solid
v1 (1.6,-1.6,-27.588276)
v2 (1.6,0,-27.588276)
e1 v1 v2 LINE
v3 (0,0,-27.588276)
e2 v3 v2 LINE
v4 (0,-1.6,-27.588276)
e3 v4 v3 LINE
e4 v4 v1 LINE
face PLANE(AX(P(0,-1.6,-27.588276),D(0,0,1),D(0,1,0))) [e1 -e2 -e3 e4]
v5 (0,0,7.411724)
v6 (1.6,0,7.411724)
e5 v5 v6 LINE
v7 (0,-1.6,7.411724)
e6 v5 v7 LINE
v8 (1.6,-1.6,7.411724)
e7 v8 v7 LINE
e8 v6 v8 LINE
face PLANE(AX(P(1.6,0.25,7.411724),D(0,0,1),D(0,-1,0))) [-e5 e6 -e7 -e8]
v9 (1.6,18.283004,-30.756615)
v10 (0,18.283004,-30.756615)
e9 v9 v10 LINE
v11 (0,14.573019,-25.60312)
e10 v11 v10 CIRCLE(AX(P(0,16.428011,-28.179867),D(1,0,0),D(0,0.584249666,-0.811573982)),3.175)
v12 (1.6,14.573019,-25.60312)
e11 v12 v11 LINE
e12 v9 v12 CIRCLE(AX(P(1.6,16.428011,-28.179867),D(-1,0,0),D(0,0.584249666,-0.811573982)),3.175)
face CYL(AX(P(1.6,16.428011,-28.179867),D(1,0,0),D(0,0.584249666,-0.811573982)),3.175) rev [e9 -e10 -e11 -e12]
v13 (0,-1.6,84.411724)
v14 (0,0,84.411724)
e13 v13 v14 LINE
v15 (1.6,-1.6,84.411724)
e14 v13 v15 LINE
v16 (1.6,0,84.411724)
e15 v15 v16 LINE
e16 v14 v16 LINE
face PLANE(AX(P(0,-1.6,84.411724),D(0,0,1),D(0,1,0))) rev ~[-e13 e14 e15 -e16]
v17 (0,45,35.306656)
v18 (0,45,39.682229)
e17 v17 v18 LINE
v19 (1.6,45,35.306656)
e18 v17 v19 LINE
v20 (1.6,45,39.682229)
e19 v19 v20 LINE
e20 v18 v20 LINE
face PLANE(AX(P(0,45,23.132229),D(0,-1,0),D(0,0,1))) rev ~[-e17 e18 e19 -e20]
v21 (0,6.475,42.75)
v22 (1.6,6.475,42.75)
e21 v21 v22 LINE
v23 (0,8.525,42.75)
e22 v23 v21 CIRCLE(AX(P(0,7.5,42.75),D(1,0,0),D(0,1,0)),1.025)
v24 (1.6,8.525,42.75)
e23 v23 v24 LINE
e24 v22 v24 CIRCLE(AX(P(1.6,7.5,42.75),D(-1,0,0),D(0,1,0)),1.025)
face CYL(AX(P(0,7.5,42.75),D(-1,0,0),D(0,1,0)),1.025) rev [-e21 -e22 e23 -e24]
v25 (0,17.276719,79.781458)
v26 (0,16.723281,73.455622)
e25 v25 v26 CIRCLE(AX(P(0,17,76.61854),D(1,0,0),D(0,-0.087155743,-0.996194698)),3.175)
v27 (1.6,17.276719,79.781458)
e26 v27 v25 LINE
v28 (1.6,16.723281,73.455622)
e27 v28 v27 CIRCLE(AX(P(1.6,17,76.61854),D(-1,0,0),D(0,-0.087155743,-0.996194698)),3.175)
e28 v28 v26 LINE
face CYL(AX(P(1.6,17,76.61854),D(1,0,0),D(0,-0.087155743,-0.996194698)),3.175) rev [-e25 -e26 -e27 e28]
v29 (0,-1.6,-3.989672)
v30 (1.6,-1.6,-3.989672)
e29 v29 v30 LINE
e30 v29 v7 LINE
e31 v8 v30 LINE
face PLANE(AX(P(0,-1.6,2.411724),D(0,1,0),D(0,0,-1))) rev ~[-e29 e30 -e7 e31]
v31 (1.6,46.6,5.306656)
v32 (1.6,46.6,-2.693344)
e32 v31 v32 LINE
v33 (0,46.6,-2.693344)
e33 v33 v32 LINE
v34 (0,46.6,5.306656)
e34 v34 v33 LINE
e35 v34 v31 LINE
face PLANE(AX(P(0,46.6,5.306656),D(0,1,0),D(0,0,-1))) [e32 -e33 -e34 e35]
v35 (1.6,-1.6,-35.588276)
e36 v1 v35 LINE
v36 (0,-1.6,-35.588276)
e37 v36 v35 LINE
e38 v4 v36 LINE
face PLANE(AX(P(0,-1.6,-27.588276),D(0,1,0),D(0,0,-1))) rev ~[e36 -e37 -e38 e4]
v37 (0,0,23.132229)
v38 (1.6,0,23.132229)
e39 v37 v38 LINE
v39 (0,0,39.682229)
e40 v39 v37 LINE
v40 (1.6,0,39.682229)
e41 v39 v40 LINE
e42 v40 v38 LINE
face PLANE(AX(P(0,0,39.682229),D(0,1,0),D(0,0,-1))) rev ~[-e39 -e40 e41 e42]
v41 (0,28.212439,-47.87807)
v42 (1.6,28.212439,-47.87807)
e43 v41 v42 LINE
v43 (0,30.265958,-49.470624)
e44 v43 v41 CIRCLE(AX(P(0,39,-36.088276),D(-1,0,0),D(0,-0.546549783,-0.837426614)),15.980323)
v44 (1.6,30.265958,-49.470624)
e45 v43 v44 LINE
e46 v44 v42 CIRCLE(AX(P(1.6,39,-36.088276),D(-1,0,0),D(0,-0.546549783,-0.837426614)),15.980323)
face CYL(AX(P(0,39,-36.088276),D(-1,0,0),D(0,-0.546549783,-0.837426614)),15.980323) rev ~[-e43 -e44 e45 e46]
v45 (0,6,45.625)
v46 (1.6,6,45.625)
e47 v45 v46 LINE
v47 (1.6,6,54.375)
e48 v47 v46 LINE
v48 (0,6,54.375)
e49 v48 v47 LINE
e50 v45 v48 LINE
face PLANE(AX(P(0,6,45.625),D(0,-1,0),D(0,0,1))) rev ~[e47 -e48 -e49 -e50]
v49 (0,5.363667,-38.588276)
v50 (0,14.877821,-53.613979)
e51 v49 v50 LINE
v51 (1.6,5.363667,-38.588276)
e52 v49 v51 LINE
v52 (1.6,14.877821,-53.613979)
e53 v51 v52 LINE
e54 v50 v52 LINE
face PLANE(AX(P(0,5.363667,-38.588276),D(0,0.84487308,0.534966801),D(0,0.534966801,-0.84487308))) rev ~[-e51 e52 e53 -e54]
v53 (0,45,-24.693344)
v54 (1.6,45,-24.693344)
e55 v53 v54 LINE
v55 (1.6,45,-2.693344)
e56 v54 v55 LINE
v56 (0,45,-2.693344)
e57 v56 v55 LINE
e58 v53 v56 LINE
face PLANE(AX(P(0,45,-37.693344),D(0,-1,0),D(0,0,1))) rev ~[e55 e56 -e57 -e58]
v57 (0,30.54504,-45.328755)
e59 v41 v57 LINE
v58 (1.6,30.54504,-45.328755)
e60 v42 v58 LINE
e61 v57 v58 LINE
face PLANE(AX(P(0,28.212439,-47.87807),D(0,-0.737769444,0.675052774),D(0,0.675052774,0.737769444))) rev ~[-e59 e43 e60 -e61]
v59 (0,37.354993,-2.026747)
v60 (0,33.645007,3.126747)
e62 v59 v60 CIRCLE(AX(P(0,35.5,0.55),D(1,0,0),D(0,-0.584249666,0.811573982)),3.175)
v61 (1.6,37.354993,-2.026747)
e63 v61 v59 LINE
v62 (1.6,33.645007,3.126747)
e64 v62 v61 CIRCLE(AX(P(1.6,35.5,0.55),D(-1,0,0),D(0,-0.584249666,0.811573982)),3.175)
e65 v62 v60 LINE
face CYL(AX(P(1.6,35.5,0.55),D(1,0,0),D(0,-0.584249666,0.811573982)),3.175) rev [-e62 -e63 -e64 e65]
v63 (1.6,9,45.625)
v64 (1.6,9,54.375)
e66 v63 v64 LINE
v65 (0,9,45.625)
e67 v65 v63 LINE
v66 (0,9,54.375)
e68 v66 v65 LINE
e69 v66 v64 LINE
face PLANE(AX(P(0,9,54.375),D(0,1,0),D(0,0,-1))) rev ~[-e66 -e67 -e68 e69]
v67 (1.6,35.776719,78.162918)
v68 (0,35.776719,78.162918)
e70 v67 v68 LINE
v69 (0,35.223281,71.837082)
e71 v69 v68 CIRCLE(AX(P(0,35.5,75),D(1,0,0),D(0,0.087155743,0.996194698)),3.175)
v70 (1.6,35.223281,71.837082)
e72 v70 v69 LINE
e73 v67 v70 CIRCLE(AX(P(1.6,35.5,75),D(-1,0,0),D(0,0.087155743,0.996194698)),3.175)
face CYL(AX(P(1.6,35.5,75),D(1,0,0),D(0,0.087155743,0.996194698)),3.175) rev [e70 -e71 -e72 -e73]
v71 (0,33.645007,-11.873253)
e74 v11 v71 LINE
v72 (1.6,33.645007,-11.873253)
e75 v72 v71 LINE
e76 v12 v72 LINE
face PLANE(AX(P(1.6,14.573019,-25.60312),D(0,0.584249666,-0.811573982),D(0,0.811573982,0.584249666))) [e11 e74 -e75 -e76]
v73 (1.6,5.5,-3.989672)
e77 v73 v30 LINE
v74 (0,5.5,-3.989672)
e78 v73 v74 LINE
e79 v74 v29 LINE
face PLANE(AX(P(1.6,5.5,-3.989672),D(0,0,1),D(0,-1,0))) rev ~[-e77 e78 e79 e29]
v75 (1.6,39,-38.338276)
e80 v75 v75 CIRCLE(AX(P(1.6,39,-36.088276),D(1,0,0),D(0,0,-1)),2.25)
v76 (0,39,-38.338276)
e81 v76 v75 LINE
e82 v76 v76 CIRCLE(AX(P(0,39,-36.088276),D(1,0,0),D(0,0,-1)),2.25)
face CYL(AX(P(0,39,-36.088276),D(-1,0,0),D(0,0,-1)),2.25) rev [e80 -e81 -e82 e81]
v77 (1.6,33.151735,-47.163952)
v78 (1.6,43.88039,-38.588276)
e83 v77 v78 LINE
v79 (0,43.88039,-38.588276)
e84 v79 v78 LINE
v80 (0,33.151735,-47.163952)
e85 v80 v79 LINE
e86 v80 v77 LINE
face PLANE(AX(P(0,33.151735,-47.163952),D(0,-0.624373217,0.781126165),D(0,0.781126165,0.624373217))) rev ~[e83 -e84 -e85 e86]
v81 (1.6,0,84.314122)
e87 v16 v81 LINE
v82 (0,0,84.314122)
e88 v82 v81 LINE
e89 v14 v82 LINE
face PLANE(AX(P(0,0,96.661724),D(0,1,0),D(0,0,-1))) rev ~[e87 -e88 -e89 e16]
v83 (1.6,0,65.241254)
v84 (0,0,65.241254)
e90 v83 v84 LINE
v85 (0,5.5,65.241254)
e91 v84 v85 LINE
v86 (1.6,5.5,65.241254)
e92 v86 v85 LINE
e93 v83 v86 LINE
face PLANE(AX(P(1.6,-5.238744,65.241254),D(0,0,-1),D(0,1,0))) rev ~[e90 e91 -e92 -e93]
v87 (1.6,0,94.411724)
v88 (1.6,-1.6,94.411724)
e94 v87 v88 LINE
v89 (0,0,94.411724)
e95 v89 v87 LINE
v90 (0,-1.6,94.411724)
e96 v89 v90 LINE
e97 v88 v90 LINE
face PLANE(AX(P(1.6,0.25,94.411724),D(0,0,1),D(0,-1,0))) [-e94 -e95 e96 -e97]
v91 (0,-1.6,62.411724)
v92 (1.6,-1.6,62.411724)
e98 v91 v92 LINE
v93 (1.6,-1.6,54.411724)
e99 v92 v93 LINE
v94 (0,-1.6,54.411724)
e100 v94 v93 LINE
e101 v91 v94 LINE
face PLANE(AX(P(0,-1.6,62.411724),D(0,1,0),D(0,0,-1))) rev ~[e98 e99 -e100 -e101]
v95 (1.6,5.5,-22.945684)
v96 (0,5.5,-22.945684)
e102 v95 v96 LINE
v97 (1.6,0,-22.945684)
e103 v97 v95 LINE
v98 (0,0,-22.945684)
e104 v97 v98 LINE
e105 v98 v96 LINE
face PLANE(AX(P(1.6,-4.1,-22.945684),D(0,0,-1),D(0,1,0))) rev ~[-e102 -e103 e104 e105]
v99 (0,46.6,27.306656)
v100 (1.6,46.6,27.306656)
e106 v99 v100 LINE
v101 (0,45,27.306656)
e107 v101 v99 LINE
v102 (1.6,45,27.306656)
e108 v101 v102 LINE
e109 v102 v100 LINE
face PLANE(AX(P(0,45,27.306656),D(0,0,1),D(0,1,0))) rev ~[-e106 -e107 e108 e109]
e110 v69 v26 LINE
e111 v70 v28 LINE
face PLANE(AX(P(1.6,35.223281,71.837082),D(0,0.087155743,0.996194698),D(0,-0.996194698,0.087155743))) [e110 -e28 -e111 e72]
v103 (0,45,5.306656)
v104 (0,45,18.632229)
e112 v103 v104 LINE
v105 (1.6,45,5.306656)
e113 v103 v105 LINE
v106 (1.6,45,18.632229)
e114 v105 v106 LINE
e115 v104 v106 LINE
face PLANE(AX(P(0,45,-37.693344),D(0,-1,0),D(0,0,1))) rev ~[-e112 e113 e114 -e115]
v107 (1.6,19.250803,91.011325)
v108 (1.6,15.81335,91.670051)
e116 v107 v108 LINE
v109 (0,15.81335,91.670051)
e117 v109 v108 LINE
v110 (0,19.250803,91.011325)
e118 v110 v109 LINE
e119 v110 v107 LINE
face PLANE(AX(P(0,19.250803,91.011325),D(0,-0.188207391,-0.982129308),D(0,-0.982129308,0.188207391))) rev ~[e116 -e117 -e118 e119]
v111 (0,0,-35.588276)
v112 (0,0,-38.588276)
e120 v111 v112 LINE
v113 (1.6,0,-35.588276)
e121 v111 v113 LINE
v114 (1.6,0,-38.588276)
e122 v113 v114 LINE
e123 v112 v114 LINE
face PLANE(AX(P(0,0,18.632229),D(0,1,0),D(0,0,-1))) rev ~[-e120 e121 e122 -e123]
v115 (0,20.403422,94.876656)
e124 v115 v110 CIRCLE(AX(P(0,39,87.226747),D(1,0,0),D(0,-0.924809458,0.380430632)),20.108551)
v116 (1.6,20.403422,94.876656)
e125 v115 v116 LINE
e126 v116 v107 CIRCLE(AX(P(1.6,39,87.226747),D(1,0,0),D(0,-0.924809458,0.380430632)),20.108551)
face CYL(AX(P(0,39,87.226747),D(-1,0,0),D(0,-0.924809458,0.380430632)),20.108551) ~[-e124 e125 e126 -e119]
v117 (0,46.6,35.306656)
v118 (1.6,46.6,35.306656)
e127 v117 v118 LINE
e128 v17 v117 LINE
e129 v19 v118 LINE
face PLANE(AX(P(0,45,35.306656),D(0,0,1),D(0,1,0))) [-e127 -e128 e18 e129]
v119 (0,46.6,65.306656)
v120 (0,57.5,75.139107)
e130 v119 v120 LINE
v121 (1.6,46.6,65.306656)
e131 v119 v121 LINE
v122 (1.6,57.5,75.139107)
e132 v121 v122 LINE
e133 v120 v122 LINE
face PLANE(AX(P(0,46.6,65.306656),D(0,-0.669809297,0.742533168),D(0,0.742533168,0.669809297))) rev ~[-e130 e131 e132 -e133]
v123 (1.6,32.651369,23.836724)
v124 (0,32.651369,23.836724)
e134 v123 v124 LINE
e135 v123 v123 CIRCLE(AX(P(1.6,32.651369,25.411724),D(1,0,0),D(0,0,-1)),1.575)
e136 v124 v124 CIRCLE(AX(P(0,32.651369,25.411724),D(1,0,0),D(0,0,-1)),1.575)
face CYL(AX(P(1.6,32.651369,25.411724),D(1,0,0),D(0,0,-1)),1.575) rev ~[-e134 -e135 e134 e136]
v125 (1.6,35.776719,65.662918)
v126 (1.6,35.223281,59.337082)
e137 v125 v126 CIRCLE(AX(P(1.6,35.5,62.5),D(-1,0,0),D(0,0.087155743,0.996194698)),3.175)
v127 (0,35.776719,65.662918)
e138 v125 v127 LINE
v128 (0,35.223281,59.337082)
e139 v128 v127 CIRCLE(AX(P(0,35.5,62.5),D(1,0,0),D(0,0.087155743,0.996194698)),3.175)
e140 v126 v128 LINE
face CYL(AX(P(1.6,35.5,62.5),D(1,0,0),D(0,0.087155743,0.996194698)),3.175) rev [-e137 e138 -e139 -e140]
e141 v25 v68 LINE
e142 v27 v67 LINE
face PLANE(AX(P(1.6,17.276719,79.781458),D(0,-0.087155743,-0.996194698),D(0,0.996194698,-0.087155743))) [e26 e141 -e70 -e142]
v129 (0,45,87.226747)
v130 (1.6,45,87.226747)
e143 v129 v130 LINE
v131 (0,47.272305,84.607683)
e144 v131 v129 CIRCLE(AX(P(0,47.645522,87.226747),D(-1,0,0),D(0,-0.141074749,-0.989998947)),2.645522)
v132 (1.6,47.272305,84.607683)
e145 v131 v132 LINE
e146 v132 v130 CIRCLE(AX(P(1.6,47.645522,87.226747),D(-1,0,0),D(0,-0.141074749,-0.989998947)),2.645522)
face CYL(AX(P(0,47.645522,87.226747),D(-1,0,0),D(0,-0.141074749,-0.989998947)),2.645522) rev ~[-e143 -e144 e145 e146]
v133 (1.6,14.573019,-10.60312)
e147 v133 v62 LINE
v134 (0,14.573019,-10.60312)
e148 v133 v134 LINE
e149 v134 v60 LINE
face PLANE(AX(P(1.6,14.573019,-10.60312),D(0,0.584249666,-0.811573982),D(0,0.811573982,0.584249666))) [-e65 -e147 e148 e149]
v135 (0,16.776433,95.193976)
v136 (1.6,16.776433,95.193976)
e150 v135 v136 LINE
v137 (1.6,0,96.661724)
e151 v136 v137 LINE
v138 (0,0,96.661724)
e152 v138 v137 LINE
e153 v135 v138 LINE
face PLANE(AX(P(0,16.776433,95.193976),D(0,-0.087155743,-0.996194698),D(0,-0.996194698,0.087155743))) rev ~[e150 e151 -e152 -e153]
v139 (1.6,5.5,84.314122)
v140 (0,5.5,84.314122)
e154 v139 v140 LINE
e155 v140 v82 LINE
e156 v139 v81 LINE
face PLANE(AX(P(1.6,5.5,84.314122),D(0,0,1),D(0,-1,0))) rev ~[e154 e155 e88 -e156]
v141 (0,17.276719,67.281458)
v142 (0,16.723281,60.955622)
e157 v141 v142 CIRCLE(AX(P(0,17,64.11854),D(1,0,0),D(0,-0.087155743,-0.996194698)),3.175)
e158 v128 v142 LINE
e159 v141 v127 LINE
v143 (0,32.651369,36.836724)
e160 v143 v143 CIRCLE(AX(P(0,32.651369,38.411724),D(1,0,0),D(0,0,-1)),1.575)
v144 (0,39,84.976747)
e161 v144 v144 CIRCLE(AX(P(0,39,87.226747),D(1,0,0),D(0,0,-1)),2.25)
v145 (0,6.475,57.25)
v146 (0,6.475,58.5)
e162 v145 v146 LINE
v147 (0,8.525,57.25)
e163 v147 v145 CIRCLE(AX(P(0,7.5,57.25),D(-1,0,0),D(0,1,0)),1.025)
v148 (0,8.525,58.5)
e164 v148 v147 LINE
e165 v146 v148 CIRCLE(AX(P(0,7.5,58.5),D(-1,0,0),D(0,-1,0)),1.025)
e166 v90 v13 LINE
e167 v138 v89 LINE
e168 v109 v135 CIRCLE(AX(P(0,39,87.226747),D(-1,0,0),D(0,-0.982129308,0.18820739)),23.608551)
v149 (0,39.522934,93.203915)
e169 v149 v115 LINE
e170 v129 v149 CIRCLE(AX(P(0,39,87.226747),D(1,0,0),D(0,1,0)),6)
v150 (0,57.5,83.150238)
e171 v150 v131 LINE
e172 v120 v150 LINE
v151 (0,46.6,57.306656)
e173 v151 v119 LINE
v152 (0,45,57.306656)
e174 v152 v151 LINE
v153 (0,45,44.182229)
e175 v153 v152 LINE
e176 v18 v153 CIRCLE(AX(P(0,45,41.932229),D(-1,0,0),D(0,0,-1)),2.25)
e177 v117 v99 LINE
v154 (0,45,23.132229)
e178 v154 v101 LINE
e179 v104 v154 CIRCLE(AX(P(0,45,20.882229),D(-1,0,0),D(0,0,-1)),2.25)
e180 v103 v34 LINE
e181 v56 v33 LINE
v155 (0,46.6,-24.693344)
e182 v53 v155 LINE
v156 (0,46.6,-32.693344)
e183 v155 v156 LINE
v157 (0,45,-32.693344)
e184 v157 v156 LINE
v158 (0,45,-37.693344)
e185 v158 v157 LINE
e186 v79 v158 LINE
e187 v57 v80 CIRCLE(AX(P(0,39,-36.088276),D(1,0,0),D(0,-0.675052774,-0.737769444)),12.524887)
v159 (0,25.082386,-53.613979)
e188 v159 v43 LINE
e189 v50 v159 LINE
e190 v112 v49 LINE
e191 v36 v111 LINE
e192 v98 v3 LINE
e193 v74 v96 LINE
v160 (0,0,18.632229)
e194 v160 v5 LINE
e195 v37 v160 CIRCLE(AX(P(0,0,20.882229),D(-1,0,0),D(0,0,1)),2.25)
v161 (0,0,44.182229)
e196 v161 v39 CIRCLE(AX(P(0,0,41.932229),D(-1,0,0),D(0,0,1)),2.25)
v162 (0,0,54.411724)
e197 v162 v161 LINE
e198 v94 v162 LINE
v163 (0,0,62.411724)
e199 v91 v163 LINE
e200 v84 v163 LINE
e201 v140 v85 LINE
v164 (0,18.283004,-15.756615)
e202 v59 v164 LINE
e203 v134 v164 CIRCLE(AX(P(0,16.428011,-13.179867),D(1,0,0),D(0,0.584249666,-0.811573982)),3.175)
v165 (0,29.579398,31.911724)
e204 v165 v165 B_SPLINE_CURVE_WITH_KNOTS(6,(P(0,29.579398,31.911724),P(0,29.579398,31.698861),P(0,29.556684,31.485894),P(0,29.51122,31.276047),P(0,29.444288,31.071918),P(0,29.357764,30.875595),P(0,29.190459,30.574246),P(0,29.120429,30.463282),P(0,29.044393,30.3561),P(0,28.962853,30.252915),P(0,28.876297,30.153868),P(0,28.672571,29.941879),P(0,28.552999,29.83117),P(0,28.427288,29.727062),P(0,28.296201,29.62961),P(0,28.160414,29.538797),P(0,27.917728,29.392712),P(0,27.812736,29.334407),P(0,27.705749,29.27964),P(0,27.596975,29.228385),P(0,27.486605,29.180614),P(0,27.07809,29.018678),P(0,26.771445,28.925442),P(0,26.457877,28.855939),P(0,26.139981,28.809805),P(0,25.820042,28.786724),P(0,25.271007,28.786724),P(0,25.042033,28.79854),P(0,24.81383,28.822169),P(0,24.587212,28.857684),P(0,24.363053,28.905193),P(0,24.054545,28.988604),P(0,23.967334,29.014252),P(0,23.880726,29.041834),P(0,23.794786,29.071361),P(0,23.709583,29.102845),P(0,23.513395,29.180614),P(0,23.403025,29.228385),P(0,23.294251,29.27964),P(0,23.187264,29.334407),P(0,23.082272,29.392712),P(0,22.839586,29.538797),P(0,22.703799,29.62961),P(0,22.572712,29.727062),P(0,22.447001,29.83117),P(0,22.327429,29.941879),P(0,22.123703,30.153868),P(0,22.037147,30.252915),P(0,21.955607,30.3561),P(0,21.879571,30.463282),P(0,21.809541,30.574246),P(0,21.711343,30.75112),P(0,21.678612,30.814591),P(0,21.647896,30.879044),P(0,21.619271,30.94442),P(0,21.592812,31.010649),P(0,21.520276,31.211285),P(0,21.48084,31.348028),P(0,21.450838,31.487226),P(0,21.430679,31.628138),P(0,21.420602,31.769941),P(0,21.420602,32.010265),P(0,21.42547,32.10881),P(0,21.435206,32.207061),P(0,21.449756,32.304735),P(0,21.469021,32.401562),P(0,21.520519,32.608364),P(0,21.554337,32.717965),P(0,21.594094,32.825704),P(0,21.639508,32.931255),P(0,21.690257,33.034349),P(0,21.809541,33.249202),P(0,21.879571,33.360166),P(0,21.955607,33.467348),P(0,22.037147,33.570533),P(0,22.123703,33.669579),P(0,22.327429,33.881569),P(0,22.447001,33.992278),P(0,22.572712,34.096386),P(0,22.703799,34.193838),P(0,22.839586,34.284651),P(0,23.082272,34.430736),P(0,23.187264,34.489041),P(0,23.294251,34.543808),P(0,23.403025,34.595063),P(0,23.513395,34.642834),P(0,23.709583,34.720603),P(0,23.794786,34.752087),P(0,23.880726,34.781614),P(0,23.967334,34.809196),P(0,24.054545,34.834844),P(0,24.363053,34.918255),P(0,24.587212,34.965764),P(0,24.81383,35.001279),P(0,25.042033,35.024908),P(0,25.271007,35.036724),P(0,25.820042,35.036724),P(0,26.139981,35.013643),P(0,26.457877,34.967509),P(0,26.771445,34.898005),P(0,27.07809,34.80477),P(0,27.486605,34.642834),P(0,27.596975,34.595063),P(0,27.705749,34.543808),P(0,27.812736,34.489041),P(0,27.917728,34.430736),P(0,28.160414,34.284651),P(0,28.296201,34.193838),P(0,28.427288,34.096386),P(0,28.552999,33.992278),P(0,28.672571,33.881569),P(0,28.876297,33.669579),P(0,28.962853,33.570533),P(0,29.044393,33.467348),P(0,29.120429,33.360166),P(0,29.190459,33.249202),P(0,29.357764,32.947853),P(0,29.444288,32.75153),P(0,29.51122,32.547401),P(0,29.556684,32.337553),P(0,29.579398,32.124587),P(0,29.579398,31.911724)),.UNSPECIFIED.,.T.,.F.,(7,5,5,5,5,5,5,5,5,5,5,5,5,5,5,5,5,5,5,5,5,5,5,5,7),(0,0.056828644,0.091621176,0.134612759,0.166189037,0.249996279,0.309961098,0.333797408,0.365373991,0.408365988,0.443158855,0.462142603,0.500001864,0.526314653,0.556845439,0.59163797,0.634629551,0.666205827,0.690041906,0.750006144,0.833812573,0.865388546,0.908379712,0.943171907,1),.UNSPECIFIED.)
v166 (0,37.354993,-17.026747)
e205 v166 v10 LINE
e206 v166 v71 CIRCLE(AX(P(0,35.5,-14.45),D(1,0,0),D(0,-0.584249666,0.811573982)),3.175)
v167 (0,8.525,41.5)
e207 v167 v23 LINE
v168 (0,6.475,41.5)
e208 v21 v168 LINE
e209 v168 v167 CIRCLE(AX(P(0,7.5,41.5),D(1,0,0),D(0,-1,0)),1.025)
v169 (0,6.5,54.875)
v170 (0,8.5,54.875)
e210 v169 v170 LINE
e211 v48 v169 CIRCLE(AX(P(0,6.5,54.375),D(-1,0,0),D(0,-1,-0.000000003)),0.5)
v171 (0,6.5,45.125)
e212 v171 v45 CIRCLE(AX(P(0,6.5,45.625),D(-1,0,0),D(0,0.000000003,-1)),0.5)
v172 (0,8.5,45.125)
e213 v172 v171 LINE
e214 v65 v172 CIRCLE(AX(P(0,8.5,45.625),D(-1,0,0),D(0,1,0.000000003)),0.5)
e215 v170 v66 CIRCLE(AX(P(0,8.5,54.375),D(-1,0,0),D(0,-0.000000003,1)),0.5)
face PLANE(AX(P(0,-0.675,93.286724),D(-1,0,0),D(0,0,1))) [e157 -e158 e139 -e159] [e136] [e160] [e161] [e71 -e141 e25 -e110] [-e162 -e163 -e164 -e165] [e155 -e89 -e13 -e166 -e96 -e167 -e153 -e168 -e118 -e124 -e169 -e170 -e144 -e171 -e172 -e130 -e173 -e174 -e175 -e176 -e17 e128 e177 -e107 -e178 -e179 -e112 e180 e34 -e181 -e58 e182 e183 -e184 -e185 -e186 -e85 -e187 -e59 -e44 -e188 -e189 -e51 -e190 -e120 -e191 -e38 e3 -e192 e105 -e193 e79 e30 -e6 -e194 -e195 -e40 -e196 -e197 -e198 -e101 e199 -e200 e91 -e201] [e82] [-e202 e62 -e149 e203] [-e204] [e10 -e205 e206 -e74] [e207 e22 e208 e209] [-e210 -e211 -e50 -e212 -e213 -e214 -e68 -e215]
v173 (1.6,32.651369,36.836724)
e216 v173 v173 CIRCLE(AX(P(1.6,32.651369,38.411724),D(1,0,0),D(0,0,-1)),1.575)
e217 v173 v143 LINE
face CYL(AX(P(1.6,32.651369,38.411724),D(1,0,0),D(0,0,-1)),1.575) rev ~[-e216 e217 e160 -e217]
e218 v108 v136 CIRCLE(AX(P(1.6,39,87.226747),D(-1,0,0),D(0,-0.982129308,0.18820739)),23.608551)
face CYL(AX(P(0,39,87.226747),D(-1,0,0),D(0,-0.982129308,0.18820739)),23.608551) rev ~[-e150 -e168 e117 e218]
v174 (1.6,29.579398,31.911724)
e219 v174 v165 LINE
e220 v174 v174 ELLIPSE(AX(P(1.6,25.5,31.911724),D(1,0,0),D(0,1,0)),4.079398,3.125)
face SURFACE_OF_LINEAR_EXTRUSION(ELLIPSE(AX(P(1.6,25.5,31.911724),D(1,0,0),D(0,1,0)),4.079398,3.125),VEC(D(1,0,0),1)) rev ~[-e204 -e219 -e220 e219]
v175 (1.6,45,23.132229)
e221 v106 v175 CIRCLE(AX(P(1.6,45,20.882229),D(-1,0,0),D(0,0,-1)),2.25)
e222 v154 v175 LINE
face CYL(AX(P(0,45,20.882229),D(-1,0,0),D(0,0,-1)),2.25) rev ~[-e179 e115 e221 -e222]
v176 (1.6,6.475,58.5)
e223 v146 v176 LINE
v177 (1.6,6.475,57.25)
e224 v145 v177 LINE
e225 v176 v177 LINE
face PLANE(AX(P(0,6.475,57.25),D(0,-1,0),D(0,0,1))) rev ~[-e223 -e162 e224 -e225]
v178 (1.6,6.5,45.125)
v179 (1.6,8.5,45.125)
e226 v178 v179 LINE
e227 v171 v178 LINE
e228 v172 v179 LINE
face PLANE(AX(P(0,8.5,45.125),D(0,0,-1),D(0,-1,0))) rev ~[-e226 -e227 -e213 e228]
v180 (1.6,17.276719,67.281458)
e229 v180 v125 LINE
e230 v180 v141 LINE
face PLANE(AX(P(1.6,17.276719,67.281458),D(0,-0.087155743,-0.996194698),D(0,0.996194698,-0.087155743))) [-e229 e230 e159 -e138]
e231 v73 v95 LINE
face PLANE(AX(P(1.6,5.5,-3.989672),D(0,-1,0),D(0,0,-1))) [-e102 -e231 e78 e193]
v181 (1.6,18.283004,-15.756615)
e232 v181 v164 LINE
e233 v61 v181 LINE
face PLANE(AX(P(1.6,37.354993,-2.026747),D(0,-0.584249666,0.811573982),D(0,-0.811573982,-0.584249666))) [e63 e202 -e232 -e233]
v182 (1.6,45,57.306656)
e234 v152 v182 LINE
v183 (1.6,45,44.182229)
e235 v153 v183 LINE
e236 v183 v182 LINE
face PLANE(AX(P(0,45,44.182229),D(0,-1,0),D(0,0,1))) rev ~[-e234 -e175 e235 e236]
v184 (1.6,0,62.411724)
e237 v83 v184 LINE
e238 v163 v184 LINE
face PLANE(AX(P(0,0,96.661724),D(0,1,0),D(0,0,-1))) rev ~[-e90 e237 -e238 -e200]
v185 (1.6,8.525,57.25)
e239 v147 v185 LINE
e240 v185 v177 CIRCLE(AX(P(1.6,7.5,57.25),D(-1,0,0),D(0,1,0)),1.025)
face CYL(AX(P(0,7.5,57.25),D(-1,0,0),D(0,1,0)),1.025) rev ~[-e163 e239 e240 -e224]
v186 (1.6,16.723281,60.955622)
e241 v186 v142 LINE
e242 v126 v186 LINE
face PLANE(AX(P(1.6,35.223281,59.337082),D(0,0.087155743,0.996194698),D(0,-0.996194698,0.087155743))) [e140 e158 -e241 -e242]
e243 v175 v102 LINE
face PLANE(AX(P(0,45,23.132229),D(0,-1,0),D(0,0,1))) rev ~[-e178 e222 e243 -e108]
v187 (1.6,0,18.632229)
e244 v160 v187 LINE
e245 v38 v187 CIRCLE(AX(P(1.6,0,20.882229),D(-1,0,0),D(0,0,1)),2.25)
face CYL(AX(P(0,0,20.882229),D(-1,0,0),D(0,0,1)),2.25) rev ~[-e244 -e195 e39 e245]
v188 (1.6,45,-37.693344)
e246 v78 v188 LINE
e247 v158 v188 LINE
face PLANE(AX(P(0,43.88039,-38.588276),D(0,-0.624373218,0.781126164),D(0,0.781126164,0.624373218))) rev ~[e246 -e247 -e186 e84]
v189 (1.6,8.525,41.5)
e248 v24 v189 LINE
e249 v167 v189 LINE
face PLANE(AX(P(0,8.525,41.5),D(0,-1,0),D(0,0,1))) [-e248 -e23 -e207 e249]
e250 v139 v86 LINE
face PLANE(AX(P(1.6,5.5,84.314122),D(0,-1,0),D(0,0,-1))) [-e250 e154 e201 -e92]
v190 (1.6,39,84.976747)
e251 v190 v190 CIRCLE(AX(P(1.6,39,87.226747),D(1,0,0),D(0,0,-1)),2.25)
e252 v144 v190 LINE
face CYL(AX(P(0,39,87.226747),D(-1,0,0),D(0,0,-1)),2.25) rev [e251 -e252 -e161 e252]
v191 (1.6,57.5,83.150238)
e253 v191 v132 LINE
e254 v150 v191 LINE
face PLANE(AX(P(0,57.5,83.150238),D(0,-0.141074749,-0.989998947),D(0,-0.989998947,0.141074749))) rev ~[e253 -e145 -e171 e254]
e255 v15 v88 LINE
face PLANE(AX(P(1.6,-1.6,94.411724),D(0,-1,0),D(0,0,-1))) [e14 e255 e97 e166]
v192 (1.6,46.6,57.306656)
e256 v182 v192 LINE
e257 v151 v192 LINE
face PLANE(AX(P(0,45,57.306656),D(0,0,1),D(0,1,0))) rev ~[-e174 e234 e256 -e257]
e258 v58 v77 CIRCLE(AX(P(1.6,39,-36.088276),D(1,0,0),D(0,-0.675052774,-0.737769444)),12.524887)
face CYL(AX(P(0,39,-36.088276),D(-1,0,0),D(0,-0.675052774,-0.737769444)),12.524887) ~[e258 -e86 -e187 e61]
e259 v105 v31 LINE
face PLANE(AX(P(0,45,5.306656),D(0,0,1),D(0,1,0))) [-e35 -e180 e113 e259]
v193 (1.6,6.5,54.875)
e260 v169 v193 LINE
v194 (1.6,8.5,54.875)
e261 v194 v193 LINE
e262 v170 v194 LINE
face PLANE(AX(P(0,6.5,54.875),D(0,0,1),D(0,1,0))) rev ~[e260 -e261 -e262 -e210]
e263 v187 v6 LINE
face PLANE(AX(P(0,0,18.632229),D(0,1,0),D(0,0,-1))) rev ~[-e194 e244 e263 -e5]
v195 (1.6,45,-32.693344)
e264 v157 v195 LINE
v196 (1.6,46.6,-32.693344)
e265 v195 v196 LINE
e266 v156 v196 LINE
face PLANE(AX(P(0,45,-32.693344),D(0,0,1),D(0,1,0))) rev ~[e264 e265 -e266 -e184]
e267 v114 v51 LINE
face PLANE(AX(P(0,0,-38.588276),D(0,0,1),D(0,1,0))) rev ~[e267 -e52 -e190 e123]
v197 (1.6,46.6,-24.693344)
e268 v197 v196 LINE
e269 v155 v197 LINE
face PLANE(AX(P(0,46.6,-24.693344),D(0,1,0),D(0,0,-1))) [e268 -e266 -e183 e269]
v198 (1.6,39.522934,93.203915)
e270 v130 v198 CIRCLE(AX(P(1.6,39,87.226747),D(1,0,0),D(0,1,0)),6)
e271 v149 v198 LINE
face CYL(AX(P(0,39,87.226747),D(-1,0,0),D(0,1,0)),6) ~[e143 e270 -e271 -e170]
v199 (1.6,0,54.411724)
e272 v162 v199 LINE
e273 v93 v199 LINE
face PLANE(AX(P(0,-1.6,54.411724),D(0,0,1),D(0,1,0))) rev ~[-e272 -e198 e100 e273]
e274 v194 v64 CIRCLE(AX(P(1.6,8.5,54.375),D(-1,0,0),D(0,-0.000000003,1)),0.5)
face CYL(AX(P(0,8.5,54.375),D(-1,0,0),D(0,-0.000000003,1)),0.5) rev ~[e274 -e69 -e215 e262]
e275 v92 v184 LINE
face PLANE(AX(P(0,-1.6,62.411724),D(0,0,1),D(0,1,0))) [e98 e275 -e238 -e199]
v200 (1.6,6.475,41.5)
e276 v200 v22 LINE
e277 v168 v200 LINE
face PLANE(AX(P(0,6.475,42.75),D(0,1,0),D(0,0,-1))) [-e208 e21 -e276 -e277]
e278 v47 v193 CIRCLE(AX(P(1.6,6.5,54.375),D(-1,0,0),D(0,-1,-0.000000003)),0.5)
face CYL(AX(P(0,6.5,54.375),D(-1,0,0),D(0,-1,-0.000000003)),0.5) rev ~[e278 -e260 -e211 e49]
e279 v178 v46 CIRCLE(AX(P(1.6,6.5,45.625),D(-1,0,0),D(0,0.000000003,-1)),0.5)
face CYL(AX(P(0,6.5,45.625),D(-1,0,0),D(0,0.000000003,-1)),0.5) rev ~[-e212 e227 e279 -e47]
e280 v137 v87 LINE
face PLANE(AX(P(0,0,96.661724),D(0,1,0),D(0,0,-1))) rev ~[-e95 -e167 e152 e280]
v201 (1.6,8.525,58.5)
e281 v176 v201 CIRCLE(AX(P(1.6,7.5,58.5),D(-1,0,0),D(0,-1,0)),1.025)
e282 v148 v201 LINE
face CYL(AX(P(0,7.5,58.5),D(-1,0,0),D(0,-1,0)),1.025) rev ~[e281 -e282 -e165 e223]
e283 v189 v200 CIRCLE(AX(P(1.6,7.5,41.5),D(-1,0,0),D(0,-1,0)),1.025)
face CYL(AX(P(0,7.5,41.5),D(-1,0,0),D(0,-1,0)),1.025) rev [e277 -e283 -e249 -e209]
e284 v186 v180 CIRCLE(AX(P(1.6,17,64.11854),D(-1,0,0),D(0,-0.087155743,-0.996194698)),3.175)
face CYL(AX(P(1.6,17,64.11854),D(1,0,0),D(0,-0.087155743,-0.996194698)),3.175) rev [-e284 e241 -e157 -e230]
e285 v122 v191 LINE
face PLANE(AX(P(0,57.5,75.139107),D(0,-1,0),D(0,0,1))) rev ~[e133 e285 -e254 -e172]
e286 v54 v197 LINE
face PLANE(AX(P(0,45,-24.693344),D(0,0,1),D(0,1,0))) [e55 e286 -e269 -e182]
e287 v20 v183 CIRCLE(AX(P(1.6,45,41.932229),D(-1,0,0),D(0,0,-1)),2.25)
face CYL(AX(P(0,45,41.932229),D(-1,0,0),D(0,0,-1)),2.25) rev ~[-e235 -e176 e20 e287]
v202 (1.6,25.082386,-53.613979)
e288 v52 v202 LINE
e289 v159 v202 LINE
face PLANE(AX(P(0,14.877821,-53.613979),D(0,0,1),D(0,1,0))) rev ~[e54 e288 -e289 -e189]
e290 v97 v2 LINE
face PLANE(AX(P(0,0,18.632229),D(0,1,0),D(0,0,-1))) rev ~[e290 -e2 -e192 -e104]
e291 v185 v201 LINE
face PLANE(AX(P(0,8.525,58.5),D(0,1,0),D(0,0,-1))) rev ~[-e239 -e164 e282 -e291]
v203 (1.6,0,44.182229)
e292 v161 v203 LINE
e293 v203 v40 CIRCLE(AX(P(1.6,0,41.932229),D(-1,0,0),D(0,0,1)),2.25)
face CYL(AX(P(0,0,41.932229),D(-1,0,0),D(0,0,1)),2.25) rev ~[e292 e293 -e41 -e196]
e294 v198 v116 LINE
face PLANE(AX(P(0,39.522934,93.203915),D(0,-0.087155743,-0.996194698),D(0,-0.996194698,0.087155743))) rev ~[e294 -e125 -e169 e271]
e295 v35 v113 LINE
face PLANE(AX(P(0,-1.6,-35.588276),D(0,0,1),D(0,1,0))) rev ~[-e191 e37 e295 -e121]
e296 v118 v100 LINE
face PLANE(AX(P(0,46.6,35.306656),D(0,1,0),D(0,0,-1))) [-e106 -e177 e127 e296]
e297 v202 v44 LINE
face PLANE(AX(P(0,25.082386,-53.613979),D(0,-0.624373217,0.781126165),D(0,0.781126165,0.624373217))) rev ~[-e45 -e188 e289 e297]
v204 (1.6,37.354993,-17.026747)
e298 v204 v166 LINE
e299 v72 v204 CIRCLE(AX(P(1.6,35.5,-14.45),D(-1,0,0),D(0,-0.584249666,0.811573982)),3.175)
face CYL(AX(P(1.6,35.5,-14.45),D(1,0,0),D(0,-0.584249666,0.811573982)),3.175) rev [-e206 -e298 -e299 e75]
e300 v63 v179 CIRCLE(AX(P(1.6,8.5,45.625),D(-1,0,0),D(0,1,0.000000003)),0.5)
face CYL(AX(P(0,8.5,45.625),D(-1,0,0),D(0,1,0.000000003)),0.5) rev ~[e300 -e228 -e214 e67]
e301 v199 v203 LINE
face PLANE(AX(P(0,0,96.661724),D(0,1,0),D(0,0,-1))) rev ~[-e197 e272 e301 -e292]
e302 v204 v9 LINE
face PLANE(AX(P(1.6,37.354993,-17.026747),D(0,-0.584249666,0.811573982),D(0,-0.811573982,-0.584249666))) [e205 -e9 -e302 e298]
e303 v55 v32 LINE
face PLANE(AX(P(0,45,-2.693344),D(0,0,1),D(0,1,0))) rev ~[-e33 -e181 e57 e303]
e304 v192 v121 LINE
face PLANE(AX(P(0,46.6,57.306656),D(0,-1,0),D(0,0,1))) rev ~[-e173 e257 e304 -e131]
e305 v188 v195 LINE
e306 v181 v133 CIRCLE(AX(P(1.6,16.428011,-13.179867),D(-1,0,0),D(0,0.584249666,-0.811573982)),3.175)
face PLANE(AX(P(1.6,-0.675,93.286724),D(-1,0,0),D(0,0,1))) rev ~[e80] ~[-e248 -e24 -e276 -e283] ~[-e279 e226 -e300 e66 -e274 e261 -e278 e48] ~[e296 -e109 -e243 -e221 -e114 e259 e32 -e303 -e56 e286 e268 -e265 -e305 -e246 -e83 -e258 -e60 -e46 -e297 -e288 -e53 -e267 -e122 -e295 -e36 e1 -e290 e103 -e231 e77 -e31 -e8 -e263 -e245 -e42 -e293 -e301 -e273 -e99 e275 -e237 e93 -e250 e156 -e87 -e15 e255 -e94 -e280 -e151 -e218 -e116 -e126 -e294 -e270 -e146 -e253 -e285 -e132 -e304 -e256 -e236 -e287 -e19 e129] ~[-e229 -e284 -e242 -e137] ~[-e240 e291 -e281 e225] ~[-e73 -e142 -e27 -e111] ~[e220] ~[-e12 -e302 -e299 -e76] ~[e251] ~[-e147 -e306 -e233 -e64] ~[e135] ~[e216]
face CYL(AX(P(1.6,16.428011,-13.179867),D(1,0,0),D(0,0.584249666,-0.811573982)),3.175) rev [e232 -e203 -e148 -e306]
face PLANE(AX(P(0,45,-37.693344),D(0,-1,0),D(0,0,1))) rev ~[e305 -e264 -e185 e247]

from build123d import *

# Parameters (mm, degrees)
SKETCH_218_R           = 2.25
EXTRUDE_1_DEPTH        = 1.6
SKETCH_2_W             = 8
SKETCH_2_H             = 1.6
EXTRUDE_3412_DEPTH     = 1.6
SKETCH2_W              = 19.07286805
SKETCH2_H              = 5.5
SKETCH2_H_2            = 5.238743847
SKETCH2_W_2            = 18.956012289
SKETCH2_H_3            = 4.1
CUT_EXTRUDE_4293_DEPTH = 113.482438083
SKETCH_4339_R          = 1.575
SKETCH_4339_RX         = 4.079397779
SKETCH_4339_RY         = 3.125
CUT_EXTRUDE_4732_DEPTH = 113.482438083
CUT_EXTRUDE_5198_DEPTH = 113.482438221
USB_C_DEPTH            = 113.482438221
BOSS_EXTRUDE1_DEPTH    = 1.6


with BuildPart() as part:
    # Sketch 218 → 凸台-拉伸1 (new body)
    with BuildSketch(Plane(origin=(0, 0, 0), x_dir=(0, 0, -1), z_dir=(1, 0, 0))):
        with BuildLine():
            Line((-95.193976275, 16.776432698), (-96.66172395, 0))
            Line((-96.66172395, 0), (-44.182229478, 0))
            ThreePointArc((-44.182229478, 0), (-41.932229478, 2.25), (-39.682229478, 0))
            Line((-39.682229478, 0), (-23.132229478, 0))
            ThreePointArc((-23.132229478, 0), (-20.882229478, 2.25), (-18.632229478, 0))
            Line((-18.632229478, 0), (38.58827605, 0))
            Line((38.58827605, 0), (38.58827605, 5.363667343))
            Line((38.58827605, 5.363667343), (53.613979238, 14.877821069))
            Line((53.613979238, 14.877821069), (53.613979238, 25.082386187))
            Line((53.613979238, 25.082386187), (49.47062371, 30.265958003))
            ThreePointArc((49.47062371, 30.265958003), (48.71615842, 29.206772475), (47.878069959, 28.212438733))
            Line((47.878069959, 28.212438733), (45.32875497, 30.545040291))
            ThreePointArc((45.32875497, 30.545040291), (46.329625978, 31.78976103), (47.163951689, 33.151735001))
            Line((47.163951689, 33.151735001), (38.58827605, 43.88038965))
            Line((38.58827605, 43.88038965), (37.693344157, 45))
            Line((37.693344157, 45), (-18.632229478, 45))
            ThreePointArc((-18.632229478, 45), (-20.882229478, 42.75), (-23.132229478, 45))
            Line((-23.132229478, 45), (-39.682229478, 45))
            ThreePointArc((-39.682229478, 45), (-41.932229478, 42.75), (-44.182229478, 45))
            Line((-44.182229478, 45), (-87.226747047, 45))
            ThreePointArc((-87.226747047, 45), (-91.280288293, 43.423664021), (-93.203915236, 39.522934456))
            Line((-93.203915236, 39.522934456), (-94.87665585, 20.403421746))
            ThreePointArc((-94.87665585, 20.403421746), (-92.972963578, 19.729950103), (-91.011324976, 19.250802615))
            Line((-91.011324976, 19.250802615), (-91.670050843, 15.813350036))
            ThreePointArc((-91.670050843, 15.813350036), (-93.450669808, 16.226628035), (-95.193976275, 16.776432698))
        make_face()
        with Locations((-87.226747047, 39)):
            Circle(SKETCH_218_R, mode=Mode.SUBTRACT)
        with Locations((36.08827605, 39)):
            Circle(SKETCH_218_R, mode=Mode.SUBTRACT)
    extrude(amount=EXTRUDE_1_DEPTH)

    # 草图2 → Extrude 3412 (add)
    with BuildSketch(Plane(origin=(0, 0, 0), x_dir=(0, 0, -1), z_dir=(1, 0, 0))):
        with Locations((31.58827605, -0.8)):
            Rectangle(SKETCH_2_W, SKETCH_2_H)
        with BuildLine():
            Line((-83.150237988, 57.5), (-84.607683433, 47.272305319))
            ThreePointArc((-84.607683433, 47.272305319), (-85.493046837, 45.647255317), (-87.226747047, 45))
            Line((-87.226747047, 45), (-65.306655843, 45))
            Line((-65.306655843, 45), (-57.306655843, 45))
            Line((-57.306655843, 45), (-57.306655843, 46.6))
            Line((-57.306655843, 46.6), (-65.306655843, 46.6))
            Line((-65.306655843, 46.6), (-75.139107316, 57.5))
            Line((-75.139107316, 57.5), (-83.150237988, 57.5))
        make_face()
        with Locations((1.58827605, -0.8)):
            Rectangle(SKETCH_2_W, SKETCH_2_H)
        with Locations((-58.41172395, -0.8)):
            Rectangle(SKETCH_2_W, SKETCH_2_H)
        with Locations((-88.41172395, -0.8)):
            Rectangle(SKETCH_2_W, SKETCH_2_H)
        with Locations((28.693344157, 45.8)):
            Rectangle(SKETCH_2_W, SKETCH_2_H)
        with Locations((-1.306655843, 45.8)):
            Rectangle(SKETCH_2_W, SKETCH_2_H)
        with Locations((-31.306655843, 45.8)):
            Rectangle(SKETCH_2_W, SKETCH_2_H)
    extrude(amount=EXTRUDE_3412_DEPTH)

    # Sketch2 → Cut-Extrude 4293 (cut, through all)
    with BuildSketch(Plane(origin=(1.6, 0, 0), x_dir=(0, 0, -1), z_dir=(1, 0, 0))):
        with Locations((-74.777688237, 2.75)):
            Rectangle(SKETCH2_W, SKETCH2_H)
        with Locations((-74.777688237, -2.619371924)):
            Rectangle(SKETCH2_W, SKETCH2_H_2)
        with Locations((13.467678305, 2.75)):
            Rectangle(SKETCH2_W_2, SKETCH2_H)
        with Locations((13.467678305, -2.05)):
            Rectangle(SKETCH2_W_2, SKETCH2_H_3)
    extrude(amount=-CUT_EXTRUDE_4293_DEPTH, mode=Mode.SUBTRACT)

    # Sketch 4339 → Cut-Extrude 4732 (cut, through all)
    with BuildSketch(Plane(origin=(1.6, 0, 0), x_dir=(0, 0, -1), z_dir=(1, 0, 0))):
        with Locations((-38.41172395, 32.651369249)):
            Circle(SKETCH_4339_R)
        with Locations((-25.41172395, 32.651369249)):
            Circle(SKETCH_4339_R)
        with Locations(Location((-31.91172395, 25.5), (0, 0, 90))):
            Ellipse(SKETCH_4339_RX, SKETCH_4339_RY)
    extrude(amount=-CUT_EXTRUDE_4732_DEPTH, mode=Mode.SUBTRACT)

    # 草图3 → Cut-Extrude 5198 (cut, through all)
    with BuildSketch(Plane(origin=(1.6, 0, 0), x_dir=(0, 0, -1), z_dir=(1, 0, 0))):
        with BuildLine():
            Line((-71.837081834, 35.223280517), (-73.455622109, 16.723280517))
            ThreePointArc((-73.455622109, 16.723280517), (-76.895259758, 13.837081834), (-79.781458442, 17.276719483))
            Line((-79.781458442, 17.276719483), (-78.162918166, 35.776719483))
            ThreePointArc((-78.162918166, 35.776719483), (-74.723280517, 38.662918166), (-71.837081834, 35.223280517))
        make_face()
        with BuildLine():
            Line((17.026747393, 37.354992688), (30.756614535, 18.283004112))
            ThreePointArc((30.756614535, 18.283004112), (30.034859831, 13.851264031), (25.60311975, 14.573018735))
            Line((25.60311975, 14.573018735), (11.873252607, 33.645007312))
            ThreePointArc((11.873252607, 33.645007312), (12.595007312, 38.076747393), (17.026747393, 37.354992688))
        make_face()
        with BuildLine():
            Line((2.026747393, 37.354992688), (15.756614535, 18.283004112))
            ThreePointArc((15.756614535, 18.283004112), (15.034859831, 13.851264031), (10.60311975, 14.573018735))
            Line((10.60311975, 14.573018735), (-3.126747393, 33.645007312))
            ThreePointArc((-3.126747393, 33.645007312), (-2.404992688, 38.076747393), (2.026747393, 37.354992688))
        make_face()
        with BuildLine():
            Line((-59.337081834, 35.223280517), (-60.955622109, 16.723280517))
            ThreePointArc((-60.955622109, 16.723280517), (-64.395259758, 13.837081834), (-67.281458442, 17.276719483))
            Line((-67.281458442, 17.276719483), (-65.662918166, 35.776719483))
            ThreePointArc((-65.662918166, 35.776719483), (-62.223280517, 38.662918166), (-59.337081834, 35.223280517))
        make_face()
    extrude(amount=-CUT_EXTRUDE_5198_DEPTH, mode=Mode.SUBTRACT)

    # Sketch1 → USB-C供电接口 (cut, through all)
    with BuildSketch(Plane(origin=(0, 0, 0), x_dir=(0, 0, -1), z_dir=(1, 0, 0))):
        with BuildLine():
            Line((-54.375, 9), (-45.625, 9))
            ThreePointArc((-45.625, 9), (-45.271446609, 8.853553391), (-45.125, 8.5))
            Line((-45.125, 8.5), (-45.125, 6.5))
            ThreePointArc((-45.125, 6.5), (-45.271446609, 6.146446609), (-45.625, 6))
            Line((-45.625, 6), (-54.375, 6))
            ThreePointArc((-54.375, 6), (-54.728553391, 6.146446609), (-54.875, 6.5))
            Line((-54.875, 6.5), (-54.875, 8.5))
            ThreePointArc((-54.875, 8.5), (-54.728553391, 8.853553391), (-54.375, 9))
        make_face()
        with BuildLine():
            Line((-57.25, 6.475), (-58.5, 6.475))
            ThreePointArc((-58.5, 6.475), (-59.525, 7.5), (-58.5, 8.525))
            Line((-58.5, 8.525), (-57.25, 8.525))
            ThreePointArc((-57.25, 8.525), (-56.225, 7.5), (-57.25, 6.475))
        make_face()
        with BuildLine():
            Line((-42.75, 6.475), (-41.5, 6.475))
            ThreePointArc((-41.5, 6.475), (-40.475, 7.5), (-41.5, 8.525))
            Line((-41.5, 8.525), (-42.75, 8.525))
            ThreePointArc((-42.75, 8.525), (-43.775, 7.5), (-42.75, 6.475))
        make_face()
    extrude(amount=USB_C_DEPTH, mode=Mode.SUBTRACT)

    # Sketch3 → Boss-Extrude1 (add)
    with BuildSketch(Plane(origin=(1.6, 0, 0), x_dir=(0, 0, -1), z_dir=(1, 0, 0))):
        Polygon((-92.41172395, -1.6), (-94.41172395, -1.6), (-94.41172395, 0), (-94.41172395, 0.25), (-92.16172395, 0.25), (-92.16172395, -1.6), align=None)
        Polygon((-2.41172395, -1.6), (-7.41172395, -1.6), (-7.41172395, 0), (-7.41172395, 0.25), (-2.16172395, 0.25), (-2.16172395, -1.6), align=None)
    extrude(amount=-BOSS_EXTRUDE1_DEPTH)


solid = part.part
